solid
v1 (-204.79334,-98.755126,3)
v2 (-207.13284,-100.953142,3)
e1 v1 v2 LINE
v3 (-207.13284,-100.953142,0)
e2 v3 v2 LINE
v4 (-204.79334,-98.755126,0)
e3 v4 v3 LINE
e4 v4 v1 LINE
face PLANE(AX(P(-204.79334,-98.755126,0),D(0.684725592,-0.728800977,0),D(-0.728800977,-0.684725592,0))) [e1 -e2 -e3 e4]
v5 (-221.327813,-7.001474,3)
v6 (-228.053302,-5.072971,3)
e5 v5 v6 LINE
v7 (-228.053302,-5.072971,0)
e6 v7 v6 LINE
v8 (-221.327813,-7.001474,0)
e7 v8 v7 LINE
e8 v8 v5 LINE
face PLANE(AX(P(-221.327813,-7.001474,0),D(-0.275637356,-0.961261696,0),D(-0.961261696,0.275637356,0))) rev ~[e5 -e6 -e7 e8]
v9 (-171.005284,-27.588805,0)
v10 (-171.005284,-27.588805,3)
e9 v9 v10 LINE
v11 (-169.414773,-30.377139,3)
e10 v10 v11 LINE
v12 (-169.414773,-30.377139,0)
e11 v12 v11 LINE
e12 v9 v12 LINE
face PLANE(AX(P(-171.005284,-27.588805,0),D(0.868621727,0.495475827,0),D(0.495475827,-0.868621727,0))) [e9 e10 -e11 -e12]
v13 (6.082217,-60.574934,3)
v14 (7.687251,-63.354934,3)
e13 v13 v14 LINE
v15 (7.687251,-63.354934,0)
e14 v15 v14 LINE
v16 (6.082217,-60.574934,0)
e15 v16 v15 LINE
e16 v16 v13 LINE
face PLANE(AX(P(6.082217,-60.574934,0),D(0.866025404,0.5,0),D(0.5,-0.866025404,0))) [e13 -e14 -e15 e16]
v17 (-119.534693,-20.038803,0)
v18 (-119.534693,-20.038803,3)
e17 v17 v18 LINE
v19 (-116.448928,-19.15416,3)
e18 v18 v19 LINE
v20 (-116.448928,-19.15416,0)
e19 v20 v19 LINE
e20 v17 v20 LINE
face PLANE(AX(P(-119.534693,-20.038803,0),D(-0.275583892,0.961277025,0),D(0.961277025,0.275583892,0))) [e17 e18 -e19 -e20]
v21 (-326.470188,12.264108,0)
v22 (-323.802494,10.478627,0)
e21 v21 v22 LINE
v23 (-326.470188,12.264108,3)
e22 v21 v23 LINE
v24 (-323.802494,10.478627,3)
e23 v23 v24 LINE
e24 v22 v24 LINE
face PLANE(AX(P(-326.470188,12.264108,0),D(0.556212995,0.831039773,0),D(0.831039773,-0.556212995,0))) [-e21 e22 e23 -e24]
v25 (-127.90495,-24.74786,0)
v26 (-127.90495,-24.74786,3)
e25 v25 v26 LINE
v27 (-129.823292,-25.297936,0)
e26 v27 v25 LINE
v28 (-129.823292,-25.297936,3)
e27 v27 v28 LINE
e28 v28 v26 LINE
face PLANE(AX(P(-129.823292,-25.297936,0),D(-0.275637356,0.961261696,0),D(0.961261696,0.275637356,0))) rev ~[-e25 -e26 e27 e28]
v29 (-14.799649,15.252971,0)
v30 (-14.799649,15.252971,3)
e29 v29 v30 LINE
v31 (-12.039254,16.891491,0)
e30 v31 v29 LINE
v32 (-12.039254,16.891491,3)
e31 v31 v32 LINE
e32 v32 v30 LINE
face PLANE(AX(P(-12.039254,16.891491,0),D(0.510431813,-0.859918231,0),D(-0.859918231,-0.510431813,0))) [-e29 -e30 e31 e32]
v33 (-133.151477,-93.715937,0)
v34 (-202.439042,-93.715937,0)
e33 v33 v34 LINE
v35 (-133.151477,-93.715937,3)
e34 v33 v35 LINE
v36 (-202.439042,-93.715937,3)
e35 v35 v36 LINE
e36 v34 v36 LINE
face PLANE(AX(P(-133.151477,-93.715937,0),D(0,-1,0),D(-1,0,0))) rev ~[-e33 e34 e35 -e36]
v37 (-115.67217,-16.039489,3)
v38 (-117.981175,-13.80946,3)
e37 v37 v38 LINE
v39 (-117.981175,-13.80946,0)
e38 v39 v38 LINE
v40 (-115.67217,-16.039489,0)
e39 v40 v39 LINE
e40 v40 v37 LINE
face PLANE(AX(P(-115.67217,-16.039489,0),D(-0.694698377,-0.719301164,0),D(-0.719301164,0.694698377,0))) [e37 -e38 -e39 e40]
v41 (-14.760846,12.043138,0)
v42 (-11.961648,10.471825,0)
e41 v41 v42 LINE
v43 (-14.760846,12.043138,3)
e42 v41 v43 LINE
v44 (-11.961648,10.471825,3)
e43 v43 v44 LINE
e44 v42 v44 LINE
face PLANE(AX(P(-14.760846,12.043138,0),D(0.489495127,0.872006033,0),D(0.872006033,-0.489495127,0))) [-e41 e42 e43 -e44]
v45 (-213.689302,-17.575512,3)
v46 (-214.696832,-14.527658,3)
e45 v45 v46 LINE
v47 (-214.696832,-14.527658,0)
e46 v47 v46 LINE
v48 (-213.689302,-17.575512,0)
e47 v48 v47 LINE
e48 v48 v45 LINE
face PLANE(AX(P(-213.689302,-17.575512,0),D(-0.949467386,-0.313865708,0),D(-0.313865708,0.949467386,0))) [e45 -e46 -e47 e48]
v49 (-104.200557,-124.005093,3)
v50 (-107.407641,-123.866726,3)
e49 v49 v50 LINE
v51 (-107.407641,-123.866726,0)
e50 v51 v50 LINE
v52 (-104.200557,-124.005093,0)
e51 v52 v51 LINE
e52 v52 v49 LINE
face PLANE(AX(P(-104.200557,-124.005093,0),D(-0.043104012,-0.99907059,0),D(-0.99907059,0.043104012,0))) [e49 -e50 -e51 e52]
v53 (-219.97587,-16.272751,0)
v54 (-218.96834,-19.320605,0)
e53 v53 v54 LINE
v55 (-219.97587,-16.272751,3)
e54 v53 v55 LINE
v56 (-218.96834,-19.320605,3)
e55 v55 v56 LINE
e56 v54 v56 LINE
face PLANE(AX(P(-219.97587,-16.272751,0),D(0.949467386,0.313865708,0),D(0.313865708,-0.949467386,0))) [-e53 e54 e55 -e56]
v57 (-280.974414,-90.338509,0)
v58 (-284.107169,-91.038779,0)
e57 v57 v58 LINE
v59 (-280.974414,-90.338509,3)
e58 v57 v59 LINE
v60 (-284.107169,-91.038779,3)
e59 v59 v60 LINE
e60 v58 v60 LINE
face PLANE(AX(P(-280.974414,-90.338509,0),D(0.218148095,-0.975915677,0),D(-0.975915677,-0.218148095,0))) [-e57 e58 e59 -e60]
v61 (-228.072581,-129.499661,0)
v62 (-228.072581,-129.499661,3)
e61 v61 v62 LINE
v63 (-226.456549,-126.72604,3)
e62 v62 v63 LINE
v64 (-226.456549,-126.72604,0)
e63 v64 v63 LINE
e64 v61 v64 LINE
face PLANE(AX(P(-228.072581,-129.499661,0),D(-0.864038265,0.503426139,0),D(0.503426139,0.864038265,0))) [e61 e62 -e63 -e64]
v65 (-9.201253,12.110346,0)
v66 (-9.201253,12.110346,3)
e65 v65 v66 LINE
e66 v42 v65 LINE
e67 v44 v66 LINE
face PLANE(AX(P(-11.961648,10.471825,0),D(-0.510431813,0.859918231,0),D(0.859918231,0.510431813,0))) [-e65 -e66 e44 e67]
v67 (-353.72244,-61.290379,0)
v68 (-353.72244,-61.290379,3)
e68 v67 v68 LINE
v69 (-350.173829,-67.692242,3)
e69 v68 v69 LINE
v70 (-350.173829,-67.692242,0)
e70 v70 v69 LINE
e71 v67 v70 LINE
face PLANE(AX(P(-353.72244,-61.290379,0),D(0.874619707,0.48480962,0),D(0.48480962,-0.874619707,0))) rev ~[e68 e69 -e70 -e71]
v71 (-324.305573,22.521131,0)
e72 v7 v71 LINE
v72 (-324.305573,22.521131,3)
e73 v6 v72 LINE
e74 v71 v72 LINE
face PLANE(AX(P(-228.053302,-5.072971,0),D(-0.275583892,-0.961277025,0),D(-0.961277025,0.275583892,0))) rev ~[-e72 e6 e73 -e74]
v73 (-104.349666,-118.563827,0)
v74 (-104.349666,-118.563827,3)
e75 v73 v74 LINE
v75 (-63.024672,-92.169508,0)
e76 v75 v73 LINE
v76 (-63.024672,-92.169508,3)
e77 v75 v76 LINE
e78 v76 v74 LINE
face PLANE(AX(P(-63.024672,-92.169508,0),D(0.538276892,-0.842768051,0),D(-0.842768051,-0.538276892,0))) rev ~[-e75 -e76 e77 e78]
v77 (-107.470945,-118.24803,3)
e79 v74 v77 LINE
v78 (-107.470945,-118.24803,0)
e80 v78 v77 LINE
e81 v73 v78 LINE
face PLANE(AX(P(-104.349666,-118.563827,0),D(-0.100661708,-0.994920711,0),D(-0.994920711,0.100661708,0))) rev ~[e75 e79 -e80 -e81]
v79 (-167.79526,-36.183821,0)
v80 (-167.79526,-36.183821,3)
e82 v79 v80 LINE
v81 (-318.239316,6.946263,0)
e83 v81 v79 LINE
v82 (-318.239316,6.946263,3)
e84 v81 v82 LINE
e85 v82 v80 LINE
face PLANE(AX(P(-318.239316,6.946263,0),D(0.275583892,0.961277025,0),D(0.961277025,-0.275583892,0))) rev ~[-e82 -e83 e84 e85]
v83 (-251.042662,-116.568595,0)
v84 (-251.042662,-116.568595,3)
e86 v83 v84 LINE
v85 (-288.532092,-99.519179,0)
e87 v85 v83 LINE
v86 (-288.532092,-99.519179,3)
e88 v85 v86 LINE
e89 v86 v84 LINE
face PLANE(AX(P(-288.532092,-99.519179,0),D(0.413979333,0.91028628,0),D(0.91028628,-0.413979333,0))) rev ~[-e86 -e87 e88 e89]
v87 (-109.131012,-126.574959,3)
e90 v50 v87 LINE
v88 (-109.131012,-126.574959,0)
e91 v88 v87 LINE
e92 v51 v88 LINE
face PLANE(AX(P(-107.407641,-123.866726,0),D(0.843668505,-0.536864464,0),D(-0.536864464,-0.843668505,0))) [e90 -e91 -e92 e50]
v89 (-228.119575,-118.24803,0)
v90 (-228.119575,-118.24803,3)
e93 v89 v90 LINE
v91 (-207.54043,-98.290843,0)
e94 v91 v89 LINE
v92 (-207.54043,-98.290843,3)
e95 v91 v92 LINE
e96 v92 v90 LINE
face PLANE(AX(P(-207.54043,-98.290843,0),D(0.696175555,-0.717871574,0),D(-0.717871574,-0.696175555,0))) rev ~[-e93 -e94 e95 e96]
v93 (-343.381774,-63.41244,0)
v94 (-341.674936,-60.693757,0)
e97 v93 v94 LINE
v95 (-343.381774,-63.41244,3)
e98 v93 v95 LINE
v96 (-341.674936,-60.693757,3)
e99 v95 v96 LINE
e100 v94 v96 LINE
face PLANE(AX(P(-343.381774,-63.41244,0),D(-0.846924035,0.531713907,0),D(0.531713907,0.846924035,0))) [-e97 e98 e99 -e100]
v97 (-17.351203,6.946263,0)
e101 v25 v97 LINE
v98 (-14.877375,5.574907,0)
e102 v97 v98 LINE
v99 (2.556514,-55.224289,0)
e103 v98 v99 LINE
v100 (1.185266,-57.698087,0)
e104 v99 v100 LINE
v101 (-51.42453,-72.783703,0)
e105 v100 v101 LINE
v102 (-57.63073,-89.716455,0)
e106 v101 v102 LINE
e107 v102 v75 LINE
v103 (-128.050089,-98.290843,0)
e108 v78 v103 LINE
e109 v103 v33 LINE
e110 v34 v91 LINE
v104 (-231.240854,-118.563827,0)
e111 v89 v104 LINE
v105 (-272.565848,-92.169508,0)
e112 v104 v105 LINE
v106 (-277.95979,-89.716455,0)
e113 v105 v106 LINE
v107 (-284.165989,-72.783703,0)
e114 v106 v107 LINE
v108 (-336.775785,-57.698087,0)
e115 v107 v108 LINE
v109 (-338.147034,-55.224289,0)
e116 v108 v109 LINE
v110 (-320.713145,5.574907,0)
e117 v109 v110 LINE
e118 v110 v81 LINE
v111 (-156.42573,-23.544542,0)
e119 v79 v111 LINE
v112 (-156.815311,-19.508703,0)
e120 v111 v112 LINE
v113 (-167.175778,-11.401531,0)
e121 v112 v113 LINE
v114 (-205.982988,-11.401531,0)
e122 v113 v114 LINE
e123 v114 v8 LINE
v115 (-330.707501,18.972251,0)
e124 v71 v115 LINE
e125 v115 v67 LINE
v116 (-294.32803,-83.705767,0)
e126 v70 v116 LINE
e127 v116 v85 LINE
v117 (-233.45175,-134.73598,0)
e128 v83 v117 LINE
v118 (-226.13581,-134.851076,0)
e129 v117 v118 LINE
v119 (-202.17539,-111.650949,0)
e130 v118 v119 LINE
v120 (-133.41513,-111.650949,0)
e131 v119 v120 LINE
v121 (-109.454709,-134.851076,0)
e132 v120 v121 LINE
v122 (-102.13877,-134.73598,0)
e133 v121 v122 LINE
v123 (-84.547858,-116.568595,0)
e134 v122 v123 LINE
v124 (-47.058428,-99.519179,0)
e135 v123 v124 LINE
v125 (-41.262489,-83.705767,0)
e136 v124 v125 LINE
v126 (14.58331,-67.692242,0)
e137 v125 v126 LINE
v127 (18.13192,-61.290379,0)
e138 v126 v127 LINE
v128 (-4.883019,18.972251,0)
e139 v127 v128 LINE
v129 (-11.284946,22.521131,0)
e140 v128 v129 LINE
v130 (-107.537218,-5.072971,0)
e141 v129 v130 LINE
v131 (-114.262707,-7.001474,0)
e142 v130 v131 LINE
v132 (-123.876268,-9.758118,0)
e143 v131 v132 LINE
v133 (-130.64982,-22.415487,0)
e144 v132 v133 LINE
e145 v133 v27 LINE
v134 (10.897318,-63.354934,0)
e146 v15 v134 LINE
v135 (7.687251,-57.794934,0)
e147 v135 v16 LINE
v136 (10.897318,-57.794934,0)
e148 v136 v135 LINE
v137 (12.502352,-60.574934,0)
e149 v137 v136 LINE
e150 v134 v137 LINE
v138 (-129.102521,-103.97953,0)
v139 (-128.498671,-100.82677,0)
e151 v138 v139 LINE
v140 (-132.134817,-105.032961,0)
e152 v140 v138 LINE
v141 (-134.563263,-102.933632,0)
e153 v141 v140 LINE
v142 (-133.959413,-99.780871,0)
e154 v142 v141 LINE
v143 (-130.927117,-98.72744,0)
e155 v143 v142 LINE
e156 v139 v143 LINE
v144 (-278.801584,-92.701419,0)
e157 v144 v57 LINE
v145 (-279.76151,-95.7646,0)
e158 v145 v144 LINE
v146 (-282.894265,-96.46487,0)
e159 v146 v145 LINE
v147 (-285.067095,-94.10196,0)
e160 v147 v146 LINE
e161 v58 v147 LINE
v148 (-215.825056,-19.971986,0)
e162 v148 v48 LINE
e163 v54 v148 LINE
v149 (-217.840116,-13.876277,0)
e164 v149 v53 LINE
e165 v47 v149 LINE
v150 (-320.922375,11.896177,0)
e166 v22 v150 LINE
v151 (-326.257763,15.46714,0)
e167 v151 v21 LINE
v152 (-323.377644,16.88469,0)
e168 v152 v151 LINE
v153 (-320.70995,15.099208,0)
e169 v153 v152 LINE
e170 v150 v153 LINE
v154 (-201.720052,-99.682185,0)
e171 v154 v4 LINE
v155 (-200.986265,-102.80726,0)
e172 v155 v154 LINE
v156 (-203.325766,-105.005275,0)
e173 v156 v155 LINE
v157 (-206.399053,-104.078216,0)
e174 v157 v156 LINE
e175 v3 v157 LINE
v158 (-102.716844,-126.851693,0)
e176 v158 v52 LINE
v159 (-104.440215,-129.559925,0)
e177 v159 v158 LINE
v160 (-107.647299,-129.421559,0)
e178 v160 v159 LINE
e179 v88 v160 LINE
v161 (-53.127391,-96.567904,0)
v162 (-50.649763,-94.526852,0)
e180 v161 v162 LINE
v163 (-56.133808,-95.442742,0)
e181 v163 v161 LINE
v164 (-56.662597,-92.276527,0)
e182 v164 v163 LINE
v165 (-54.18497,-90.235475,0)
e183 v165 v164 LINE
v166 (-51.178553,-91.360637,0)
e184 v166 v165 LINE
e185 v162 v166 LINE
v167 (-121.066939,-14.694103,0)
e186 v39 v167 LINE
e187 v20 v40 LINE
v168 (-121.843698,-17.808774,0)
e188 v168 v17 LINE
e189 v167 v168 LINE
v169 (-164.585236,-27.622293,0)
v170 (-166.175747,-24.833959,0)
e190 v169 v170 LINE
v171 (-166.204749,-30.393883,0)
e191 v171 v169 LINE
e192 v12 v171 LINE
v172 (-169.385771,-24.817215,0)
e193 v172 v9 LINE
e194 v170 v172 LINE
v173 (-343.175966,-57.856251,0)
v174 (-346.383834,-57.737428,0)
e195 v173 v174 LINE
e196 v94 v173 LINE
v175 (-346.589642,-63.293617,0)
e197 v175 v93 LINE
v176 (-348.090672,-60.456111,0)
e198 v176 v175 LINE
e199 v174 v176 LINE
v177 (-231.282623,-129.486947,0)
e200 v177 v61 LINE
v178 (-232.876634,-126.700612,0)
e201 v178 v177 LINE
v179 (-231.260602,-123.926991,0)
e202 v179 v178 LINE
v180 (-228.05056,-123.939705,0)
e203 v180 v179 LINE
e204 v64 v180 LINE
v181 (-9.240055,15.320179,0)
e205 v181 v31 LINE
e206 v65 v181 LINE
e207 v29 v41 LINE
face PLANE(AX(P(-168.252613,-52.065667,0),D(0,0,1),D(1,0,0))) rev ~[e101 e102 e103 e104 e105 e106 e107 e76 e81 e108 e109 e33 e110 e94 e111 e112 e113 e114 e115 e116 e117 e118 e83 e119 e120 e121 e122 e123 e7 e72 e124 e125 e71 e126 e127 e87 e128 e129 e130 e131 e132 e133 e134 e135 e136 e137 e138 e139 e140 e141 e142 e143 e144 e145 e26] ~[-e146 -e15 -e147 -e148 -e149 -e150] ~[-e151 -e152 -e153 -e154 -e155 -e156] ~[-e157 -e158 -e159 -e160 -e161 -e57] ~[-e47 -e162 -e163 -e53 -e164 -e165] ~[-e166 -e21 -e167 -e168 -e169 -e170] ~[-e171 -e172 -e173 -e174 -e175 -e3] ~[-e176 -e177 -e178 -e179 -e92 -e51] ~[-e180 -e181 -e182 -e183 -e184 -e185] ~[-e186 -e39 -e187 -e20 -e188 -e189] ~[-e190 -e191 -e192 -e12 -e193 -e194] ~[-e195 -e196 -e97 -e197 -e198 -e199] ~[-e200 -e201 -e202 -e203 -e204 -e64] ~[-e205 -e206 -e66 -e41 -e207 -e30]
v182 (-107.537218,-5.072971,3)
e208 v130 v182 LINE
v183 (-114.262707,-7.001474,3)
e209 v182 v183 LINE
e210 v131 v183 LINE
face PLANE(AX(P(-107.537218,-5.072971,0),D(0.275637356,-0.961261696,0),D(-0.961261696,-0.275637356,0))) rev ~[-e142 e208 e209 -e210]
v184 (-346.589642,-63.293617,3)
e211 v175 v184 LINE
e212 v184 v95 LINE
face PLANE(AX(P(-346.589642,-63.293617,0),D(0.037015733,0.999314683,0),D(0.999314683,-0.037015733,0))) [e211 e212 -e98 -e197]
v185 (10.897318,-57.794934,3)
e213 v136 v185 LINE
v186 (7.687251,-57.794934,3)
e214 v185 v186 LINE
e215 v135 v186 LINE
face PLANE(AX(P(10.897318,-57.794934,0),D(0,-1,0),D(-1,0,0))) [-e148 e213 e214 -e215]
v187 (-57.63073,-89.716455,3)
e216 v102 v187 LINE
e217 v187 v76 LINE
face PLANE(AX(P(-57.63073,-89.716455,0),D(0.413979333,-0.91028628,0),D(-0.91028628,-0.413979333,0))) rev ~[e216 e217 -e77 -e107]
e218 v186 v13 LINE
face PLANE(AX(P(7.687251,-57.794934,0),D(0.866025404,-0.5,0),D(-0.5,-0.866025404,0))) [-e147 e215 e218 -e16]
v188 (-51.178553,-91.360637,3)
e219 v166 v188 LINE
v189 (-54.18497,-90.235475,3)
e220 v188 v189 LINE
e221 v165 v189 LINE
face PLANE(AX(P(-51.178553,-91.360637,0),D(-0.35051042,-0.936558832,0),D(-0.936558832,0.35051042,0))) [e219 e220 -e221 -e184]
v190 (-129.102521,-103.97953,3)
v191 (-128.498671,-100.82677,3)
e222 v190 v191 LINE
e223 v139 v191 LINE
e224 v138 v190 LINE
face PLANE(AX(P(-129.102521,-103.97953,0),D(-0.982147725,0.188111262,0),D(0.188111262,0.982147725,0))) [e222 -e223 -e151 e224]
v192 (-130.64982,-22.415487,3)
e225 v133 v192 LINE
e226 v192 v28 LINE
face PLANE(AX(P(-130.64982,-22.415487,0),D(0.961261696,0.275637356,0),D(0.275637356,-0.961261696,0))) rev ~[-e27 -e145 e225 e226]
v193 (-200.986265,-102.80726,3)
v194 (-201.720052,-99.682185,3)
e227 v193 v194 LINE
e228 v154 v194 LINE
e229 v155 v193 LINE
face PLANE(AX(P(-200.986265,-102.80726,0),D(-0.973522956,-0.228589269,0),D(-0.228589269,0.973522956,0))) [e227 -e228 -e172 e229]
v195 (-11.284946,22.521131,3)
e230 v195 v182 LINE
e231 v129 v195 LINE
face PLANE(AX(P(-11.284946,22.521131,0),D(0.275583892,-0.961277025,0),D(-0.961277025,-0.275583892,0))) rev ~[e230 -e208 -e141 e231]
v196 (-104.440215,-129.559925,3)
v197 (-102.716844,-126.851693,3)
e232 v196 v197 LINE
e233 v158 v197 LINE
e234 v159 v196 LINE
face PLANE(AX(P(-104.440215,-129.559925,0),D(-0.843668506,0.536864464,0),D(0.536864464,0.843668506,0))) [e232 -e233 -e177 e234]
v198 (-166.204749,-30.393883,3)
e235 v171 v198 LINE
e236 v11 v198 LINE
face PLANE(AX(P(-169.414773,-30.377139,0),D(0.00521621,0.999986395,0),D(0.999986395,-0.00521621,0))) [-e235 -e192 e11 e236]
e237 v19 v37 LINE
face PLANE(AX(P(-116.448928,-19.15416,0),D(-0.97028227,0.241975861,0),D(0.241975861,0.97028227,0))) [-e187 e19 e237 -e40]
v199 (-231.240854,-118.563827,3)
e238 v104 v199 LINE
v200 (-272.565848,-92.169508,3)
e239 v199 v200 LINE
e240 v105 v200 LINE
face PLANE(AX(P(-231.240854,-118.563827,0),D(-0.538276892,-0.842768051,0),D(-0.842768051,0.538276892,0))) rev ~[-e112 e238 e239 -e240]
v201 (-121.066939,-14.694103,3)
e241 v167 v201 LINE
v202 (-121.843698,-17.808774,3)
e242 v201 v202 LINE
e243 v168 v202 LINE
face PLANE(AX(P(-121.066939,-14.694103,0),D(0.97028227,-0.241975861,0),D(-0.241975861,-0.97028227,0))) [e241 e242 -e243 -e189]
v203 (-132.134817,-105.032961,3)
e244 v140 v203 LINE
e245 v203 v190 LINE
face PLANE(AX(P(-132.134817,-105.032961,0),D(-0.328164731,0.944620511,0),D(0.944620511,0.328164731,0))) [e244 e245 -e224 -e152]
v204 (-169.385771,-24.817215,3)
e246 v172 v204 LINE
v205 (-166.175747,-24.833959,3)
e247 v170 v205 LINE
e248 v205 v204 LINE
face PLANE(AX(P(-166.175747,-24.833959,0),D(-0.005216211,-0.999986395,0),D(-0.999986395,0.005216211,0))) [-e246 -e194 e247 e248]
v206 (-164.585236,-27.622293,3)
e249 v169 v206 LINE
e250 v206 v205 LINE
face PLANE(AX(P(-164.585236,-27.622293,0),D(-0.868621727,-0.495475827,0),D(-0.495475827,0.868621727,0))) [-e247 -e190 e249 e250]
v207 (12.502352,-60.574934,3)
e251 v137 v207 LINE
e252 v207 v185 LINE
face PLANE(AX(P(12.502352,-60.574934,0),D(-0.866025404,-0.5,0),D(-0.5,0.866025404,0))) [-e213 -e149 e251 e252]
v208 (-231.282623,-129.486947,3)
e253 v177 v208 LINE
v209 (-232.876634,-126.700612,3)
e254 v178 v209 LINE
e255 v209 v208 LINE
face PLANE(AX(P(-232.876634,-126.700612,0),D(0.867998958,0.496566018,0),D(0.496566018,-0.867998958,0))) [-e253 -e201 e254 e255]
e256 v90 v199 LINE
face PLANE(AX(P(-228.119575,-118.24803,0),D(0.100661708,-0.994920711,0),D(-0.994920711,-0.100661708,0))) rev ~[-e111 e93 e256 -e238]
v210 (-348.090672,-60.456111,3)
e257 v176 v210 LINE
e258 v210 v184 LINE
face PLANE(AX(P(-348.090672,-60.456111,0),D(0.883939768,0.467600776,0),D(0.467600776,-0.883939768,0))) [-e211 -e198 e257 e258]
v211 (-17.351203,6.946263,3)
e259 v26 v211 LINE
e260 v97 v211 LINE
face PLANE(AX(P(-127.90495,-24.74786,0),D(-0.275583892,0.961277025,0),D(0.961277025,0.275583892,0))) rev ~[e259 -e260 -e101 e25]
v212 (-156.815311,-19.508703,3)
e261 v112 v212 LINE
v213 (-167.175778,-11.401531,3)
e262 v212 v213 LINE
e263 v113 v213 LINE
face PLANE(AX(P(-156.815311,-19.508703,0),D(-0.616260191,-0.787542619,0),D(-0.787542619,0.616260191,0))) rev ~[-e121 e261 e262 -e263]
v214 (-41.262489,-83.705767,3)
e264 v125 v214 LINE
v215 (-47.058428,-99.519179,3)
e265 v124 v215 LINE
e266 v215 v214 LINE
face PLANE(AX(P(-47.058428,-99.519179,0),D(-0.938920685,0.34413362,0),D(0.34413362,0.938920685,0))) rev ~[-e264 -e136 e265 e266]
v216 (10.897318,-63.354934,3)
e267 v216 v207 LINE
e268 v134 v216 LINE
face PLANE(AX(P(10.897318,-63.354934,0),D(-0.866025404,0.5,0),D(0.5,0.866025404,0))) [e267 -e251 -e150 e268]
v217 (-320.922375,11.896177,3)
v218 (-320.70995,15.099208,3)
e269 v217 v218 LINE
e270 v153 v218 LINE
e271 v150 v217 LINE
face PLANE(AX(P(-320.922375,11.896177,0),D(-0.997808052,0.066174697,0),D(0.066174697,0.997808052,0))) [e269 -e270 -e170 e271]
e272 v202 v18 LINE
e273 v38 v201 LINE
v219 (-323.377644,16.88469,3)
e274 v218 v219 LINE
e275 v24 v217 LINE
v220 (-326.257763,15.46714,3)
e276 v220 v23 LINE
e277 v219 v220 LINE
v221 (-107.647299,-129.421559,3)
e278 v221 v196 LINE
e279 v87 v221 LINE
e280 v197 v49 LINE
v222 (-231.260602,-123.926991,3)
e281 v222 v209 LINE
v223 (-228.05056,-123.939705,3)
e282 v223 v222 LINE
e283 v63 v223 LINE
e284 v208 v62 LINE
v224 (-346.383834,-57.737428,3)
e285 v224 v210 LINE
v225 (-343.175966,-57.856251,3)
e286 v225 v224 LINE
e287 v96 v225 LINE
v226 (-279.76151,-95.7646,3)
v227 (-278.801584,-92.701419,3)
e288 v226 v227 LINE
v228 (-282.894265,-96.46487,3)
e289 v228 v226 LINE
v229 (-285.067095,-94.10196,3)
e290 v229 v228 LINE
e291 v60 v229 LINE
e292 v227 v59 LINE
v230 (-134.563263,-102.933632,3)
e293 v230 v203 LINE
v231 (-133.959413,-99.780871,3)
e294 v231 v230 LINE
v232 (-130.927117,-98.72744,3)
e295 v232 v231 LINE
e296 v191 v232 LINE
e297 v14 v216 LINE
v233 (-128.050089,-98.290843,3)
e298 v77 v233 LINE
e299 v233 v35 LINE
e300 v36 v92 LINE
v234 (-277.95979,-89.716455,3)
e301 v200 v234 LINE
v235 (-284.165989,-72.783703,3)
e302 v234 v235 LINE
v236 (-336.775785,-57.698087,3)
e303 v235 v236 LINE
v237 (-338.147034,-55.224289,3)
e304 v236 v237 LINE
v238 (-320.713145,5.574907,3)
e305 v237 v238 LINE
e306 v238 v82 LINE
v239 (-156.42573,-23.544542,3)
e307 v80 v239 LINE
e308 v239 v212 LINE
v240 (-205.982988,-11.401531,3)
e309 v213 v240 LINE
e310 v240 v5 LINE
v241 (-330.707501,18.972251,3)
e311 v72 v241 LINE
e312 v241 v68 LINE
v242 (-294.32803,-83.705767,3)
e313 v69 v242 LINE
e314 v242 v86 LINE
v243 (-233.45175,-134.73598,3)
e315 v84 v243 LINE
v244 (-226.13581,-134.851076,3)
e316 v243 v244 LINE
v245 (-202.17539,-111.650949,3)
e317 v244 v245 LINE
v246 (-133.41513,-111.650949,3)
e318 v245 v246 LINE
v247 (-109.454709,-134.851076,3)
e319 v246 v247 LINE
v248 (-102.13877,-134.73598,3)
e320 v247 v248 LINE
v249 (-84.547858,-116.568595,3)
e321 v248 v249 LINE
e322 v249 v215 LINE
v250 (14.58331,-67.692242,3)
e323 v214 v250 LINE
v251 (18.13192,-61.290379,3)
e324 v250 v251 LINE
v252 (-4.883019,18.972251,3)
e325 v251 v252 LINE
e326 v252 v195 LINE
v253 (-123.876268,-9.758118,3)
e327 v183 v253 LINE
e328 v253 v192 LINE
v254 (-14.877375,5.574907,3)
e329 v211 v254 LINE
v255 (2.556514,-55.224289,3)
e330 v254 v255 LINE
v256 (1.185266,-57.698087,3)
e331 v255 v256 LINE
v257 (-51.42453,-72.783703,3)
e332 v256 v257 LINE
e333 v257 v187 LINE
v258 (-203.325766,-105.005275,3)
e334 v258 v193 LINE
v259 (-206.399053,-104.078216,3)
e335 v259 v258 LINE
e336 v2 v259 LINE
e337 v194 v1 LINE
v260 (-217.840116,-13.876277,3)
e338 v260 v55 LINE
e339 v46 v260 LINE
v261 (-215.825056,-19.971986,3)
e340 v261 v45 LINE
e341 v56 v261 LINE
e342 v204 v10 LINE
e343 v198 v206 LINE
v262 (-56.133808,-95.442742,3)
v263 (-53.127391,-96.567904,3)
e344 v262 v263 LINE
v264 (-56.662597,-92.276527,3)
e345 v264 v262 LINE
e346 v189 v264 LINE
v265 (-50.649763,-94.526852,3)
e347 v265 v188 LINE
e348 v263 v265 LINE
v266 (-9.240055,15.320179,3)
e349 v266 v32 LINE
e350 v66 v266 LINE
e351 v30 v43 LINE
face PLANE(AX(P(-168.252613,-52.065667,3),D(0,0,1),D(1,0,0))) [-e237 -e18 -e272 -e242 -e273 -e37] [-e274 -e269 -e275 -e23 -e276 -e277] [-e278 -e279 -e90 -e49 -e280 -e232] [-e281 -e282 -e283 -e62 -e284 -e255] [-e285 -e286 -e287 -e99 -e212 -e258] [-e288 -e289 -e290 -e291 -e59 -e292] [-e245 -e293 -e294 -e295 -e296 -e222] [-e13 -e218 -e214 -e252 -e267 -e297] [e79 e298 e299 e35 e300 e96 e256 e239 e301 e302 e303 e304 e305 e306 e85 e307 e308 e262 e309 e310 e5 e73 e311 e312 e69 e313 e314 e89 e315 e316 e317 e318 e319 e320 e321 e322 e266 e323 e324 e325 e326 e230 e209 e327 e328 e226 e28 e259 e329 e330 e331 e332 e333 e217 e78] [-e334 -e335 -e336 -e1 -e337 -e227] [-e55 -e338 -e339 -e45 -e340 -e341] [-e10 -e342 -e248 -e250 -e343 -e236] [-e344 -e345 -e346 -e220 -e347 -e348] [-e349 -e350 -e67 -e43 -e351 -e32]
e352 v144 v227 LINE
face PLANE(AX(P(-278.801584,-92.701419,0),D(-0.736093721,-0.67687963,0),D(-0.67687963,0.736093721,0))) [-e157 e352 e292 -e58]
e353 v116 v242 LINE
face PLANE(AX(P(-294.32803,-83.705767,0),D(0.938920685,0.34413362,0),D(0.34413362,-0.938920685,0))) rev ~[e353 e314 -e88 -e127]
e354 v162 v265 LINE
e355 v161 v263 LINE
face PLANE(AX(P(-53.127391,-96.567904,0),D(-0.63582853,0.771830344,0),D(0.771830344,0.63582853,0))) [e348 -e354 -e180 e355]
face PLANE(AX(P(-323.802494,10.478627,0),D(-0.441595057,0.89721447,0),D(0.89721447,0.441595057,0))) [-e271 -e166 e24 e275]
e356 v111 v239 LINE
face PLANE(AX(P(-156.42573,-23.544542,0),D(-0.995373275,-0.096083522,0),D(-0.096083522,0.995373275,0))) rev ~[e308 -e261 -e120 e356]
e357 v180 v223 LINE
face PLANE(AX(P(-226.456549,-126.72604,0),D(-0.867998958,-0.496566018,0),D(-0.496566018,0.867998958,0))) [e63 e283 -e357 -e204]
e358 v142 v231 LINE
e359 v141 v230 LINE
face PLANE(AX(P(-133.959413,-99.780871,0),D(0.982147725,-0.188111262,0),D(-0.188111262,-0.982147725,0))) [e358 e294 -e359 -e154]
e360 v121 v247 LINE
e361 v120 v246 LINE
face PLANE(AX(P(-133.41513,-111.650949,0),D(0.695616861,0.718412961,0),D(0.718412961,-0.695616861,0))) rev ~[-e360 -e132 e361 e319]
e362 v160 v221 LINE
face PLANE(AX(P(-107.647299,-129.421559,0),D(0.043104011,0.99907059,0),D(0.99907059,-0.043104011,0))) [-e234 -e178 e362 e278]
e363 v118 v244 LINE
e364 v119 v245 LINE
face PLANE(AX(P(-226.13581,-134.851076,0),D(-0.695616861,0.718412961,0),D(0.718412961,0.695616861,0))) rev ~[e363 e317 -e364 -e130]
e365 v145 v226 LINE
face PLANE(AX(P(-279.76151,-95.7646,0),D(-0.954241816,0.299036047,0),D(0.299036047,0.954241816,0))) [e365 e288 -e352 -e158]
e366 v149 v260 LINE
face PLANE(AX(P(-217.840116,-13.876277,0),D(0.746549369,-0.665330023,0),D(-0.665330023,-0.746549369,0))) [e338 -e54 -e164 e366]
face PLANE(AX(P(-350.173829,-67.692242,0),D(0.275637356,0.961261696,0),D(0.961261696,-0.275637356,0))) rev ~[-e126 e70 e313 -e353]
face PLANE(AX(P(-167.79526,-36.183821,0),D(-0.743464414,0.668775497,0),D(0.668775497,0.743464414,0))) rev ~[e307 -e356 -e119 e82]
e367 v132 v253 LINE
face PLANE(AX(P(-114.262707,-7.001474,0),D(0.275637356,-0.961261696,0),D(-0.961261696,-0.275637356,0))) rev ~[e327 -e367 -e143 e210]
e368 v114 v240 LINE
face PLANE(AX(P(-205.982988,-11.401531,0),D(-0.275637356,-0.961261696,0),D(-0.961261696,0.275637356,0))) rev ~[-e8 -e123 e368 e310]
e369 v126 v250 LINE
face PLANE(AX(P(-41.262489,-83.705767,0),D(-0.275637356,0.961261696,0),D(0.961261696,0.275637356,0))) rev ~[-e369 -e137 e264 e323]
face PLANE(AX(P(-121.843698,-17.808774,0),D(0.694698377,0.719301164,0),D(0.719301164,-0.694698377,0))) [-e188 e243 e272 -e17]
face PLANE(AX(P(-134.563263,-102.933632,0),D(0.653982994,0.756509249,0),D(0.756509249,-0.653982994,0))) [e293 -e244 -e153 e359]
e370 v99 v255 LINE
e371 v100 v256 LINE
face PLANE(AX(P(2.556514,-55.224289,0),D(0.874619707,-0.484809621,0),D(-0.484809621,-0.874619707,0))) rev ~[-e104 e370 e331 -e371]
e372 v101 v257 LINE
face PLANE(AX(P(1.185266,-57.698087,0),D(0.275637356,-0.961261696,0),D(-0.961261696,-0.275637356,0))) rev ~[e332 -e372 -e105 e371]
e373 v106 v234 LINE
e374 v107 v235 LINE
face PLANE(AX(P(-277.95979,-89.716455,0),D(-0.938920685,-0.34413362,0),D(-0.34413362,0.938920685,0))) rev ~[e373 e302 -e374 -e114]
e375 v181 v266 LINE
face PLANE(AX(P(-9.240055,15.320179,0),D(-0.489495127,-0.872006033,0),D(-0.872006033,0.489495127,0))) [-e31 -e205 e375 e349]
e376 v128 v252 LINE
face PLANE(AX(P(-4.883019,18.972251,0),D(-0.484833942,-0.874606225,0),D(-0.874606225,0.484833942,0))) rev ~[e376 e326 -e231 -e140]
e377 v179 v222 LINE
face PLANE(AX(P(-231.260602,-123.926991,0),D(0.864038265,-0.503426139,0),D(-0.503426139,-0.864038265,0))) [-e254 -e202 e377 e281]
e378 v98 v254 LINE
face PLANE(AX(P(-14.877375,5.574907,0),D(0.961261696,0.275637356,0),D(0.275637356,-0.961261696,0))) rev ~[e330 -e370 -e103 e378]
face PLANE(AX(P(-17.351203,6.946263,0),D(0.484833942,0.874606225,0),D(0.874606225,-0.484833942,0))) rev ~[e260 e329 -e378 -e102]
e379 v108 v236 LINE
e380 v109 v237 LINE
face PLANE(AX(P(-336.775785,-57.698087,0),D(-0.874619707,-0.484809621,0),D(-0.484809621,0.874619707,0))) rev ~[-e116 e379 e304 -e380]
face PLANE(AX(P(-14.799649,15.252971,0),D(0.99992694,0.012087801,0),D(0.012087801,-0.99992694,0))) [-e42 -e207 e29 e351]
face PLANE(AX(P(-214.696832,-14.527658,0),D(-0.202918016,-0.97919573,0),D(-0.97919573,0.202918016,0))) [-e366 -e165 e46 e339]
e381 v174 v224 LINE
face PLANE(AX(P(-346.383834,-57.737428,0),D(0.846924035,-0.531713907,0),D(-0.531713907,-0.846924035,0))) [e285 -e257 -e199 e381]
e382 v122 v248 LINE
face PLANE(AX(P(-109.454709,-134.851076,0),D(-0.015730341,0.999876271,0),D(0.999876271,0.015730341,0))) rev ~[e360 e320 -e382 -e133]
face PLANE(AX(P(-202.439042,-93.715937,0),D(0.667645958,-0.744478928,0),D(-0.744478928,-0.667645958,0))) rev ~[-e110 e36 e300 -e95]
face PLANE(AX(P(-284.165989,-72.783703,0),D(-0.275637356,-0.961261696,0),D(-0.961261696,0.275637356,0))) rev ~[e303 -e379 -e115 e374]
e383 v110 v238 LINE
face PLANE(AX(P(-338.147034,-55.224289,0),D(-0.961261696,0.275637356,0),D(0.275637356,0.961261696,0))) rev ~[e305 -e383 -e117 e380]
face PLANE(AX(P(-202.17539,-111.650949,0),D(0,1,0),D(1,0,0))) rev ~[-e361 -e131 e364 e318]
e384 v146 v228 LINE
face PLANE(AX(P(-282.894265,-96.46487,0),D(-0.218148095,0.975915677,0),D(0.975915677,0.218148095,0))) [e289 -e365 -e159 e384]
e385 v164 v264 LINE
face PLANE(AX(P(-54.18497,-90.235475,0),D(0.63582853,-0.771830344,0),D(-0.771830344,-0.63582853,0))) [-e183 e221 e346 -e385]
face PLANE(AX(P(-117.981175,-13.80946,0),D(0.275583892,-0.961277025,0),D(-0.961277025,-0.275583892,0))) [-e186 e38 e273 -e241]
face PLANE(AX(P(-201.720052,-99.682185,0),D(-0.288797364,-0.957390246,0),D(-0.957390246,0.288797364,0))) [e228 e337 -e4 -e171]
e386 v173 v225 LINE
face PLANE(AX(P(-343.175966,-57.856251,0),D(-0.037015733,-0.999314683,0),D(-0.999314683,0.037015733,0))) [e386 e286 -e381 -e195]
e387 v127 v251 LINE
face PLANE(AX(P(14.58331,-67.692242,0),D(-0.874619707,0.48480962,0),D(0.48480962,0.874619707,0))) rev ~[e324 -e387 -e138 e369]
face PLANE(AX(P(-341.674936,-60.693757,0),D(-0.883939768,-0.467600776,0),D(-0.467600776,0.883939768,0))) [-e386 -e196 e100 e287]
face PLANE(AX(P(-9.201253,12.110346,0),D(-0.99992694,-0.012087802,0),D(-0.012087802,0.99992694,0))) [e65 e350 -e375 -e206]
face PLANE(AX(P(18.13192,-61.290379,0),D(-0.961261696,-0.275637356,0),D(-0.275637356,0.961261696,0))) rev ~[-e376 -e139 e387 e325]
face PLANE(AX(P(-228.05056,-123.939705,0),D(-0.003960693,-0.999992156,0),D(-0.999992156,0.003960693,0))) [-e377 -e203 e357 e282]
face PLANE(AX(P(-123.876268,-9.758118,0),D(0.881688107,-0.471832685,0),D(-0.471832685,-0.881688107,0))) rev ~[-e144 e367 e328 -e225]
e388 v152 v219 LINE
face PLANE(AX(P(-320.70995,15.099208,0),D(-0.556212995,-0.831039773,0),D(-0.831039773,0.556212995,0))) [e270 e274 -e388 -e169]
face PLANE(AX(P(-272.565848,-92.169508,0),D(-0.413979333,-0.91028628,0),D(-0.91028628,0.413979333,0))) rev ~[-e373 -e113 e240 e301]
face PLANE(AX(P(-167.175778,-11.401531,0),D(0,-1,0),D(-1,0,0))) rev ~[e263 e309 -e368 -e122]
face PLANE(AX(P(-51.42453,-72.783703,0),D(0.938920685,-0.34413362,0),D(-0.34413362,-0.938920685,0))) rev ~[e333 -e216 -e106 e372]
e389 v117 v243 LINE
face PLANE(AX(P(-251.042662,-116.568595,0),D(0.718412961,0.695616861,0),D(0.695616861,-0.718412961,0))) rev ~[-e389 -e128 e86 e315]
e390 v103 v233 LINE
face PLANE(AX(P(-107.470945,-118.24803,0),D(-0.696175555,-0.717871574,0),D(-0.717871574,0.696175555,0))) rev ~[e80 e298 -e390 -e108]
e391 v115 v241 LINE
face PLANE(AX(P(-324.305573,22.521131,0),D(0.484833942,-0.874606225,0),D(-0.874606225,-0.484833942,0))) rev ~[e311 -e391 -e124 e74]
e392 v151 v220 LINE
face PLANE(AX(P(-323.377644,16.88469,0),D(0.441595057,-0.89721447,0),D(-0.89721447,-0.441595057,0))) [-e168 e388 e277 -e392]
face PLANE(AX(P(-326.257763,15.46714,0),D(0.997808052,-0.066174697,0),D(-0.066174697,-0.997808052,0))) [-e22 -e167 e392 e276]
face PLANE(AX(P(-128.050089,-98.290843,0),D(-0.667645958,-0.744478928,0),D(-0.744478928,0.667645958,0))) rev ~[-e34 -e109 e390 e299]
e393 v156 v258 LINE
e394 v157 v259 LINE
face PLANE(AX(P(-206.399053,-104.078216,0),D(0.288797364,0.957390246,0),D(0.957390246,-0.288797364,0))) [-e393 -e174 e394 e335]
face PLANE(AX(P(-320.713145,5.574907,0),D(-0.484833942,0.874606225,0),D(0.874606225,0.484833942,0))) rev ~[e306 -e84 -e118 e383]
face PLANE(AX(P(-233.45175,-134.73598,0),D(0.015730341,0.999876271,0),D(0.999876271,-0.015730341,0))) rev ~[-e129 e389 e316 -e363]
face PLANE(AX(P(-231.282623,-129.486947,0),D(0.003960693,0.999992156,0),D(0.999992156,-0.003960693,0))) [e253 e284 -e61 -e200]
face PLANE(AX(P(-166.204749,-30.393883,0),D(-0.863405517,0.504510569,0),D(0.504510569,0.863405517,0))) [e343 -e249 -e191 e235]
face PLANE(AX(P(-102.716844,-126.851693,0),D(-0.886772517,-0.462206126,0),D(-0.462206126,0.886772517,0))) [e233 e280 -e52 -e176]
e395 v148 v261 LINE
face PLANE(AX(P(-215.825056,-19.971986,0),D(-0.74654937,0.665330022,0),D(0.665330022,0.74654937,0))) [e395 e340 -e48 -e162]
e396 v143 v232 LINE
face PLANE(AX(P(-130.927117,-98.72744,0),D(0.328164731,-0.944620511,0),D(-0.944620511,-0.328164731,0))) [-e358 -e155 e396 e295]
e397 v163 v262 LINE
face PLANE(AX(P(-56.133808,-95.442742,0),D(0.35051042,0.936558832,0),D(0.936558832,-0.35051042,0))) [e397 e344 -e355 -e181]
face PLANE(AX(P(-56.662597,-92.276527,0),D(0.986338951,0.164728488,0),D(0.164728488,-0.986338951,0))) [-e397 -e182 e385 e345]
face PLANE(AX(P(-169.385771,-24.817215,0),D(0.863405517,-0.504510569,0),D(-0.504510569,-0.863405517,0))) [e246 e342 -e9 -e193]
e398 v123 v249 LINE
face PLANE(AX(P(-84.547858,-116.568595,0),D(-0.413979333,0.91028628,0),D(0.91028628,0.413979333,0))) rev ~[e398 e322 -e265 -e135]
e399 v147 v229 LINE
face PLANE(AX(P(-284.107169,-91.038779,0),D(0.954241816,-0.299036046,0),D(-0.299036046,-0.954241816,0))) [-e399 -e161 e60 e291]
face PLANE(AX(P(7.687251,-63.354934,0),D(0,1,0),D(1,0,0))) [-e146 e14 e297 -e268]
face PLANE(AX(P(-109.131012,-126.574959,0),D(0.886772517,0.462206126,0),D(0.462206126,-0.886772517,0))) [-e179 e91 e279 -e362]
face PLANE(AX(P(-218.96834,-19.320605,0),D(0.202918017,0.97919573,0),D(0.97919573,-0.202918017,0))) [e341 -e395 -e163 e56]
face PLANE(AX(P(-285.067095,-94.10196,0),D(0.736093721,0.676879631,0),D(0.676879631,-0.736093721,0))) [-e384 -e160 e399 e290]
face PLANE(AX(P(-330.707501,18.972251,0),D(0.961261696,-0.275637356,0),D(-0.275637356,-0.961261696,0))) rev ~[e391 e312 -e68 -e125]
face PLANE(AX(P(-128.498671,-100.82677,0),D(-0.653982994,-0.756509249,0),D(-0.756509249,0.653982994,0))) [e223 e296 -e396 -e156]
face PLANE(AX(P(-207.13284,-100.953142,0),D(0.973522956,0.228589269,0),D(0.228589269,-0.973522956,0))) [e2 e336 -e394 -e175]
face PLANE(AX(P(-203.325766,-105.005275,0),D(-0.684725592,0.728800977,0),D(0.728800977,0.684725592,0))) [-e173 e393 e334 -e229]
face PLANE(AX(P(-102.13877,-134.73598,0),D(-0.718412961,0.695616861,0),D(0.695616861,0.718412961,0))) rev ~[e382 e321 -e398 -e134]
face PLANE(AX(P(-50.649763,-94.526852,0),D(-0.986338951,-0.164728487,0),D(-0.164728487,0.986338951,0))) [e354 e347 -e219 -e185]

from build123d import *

# Parameters (mm, degrees)
BOSS_EXTRU_1_DEPTH = 3


with BuildPart() as part:
    # Esquisse1 → Boss.-Extru.1 (new body)
    with BuildSketch(Plane.XY):
        Polygon((-207.540430482, -98.290842938), (-228.119574859, -118.248029963), (-231.240854108, -118.563827288), (-272.565847516, -92.169507978), (-277.959789872, -89.716454796), (-284.165989399, -72.783703169), (-336.775785376, -57.698086926), (-338.147034057, -55.224288823), (-320.713145188, 5.574907028), (-318.239316427, 6.946262636), (-167.795259872, -36.183821192), (-156.425730461, -23.544541546), (-156.815310501, -19.508703235), (-167.175777529, -11.401531345), (-205.982988252, -11.401531345), (-221.327812729, -7.001473731), (-228.053301524, -5.072970852), (-324.305573392, 22.521130566), (-330.707501003, 18.97225141), (-353.72243999, -61.290379239), (-350.173829458, -67.692242105), (-294.328030452, -83.705767284), (-288.532091821, -99.519179156), (-251.042661762, -116.568594893), (-233.45174982, -134.735979634), (-226.135810249, -134.851076098), (-202.175390102, -111.650948678), (-133.415129641, -111.650948678), (-109.454709494, -134.851076098), (-102.138769923, -134.735979634), (-84.547857981, -116.568594893), (-47.058427922, -99.519179156), (-41.262489291, -83.705767284), (14.583309715, -67.692242105), (18.131920247, -61.290379239), (-4.88301874, 18.97225141), (-11.284946351, 22.521130566), (-107.537218219, -5.072970852), (-114.262707014, -7.001473731), (-123.876268292, -9.758118068), (-130.649820486, -22.415487094), (-129.8232917, -25.297935522), (-127.904950096, -24.747859919), (-17.351203316, 6.946262636), (-14.877374555, 5.574907028), (2.556514314, -55.224288823), (1.185265633, -57.698086926), (-51.424530344, -72.783703169), (-57.630729871, -89.716454796), (-63.024672228, -92.169507978), (-104.349665635, -118.563827288), (-107.470944884, -118.248029963), (-128.050089261, -98.290842938), (-133.151477342, -93.715936913), (-202.439042401, -93.715936913), align=None)
        Polygon((-214.696831686, -14.527657653), (-217.840116073, -13.876277124), (-219.975870353, -16.272750989), (-218.968340246, -19.320605385), (-215.825055858, -19.971985915), (-213.689301579, -17.575512049), align=None, mode=Mode.SUBTRACT)
        Polygon((-166.175746894, -24.833958909), (-169.385770719, -24.817214521), (-171.005283697, -27.588804506), (-169.414772849, -30.37713888), (-166.204749024, -30.393883267), (-164.585236046, -27.622293282), align=None, mode=Mode.SUBTRACT)
        Polygon((-115.672169645, -16.039488624), (-117.981174931, -13.809459943), (-121.066939064, -14.694102838), (-121.84369791, -17.808774414), (-119.534692623, -20.038803095), (-116.448928491, -19.154160201), align=None, mode=Mode.SUBTRACT)
        Polygon((-9.240055353, 15.320178943), (-12.039253575, 16.891491339), (-14.799649138, 15.252970767), (-14.76084648, 12.043137798), (-11.961648258, 10.471825402), (-9.201252694, 12.110345974), align=None, mode=Mode.SUBTRACT)
        Polygon((12.502351781, -60.574933915), (10.897318032, -57.794933915), (7.687250536, -57.794933915), (6.082216787, -60.574933915), (7.687250536, -63.354933915), (10.897318032, -63.354933915), align=None, mode=Mode.SUBTRACT)
        Polygon((-50.649763202, -94.526851626), (-51.178552765, -91.36063702), (-54.18496983, -90.235474912), (-56.662597331, -92.27652741), (-56.133807767, -95.442742016), (-53.127390703, -96.567904124), align=None, mode=Mode.SUBTRACT)
        Polygon((-104.440215275, -129.559925429), (-102.716844109, -126.851692582), (-104.200556971, -124.005092948), (-107.407640999, -123.866726161), (-109.131012166, -126.574959009), (-107.647299303, -129.421558643), align=None, mode=Mode.SUBTRACT)
        Polygon((-132.134816884, -105.032961295), (-129.102521286, -103.979530359), (-128.498671438, -100.826769871), (-130.927117189, -98.727440319), (-133.959412787, -99.780871255), (-134.563262635, -102.933631743), align=None, mode=Mode.SUBTRACT)
        Polygon((-200.986265397, -102.807259839), (-201.720052379, -99.68218544), (-204.793339689, -98.755126408), (-207.132840016, -100.953141775), (-206.399053033, -104.078216174), (-203.325765724, -105.005275206), align=None, mode=Mode.SUBTRACT)
        Polygon((-228.072581173, -129.499661036), (-226.456549288, -126.726039887), (-228.050559721, -123.939704646), (-231.260602039, -123.926990555), (-232.876633924, -126.700611704), (-231.282623491, -129.486946945), align=None, mode=Mode.SUBTRACT)
        Polygon((-279.761510176, -95.764600045), (-278.801584282, -92.701419409), (-280.974413583, -90.338508881), (-284.107168778, -91.03877899), (-285.067094671, -94.101959627), (-282.89426537, -96.464870154), align=None, mode=Mode.SUBTRACT)
        Polygon((-343.381773974, -63.412440235), (-341.674936445, -60.693756917), (-343.175966498, -57.856250598), (-346.38383408, -57.737427596), (-348.09067161, -60.456110913), (-346.589641557, -63.293617233), align=None, mode=Mode.SUBTRACT)
        Polygon((-323.377643582, 16.884689567), (-326.25776259, 15.467139628), (-326.470187835, 12.264108431), (-323.802494072, 10.478627174), (-320.922375064, 11.896177113), (-320.709949819, 15.09920831), align=None, mode=Mode.SUBTRACT)
    extrude(amount=BOSS_EXTRU_1_DEPTH)


solid = part.part
